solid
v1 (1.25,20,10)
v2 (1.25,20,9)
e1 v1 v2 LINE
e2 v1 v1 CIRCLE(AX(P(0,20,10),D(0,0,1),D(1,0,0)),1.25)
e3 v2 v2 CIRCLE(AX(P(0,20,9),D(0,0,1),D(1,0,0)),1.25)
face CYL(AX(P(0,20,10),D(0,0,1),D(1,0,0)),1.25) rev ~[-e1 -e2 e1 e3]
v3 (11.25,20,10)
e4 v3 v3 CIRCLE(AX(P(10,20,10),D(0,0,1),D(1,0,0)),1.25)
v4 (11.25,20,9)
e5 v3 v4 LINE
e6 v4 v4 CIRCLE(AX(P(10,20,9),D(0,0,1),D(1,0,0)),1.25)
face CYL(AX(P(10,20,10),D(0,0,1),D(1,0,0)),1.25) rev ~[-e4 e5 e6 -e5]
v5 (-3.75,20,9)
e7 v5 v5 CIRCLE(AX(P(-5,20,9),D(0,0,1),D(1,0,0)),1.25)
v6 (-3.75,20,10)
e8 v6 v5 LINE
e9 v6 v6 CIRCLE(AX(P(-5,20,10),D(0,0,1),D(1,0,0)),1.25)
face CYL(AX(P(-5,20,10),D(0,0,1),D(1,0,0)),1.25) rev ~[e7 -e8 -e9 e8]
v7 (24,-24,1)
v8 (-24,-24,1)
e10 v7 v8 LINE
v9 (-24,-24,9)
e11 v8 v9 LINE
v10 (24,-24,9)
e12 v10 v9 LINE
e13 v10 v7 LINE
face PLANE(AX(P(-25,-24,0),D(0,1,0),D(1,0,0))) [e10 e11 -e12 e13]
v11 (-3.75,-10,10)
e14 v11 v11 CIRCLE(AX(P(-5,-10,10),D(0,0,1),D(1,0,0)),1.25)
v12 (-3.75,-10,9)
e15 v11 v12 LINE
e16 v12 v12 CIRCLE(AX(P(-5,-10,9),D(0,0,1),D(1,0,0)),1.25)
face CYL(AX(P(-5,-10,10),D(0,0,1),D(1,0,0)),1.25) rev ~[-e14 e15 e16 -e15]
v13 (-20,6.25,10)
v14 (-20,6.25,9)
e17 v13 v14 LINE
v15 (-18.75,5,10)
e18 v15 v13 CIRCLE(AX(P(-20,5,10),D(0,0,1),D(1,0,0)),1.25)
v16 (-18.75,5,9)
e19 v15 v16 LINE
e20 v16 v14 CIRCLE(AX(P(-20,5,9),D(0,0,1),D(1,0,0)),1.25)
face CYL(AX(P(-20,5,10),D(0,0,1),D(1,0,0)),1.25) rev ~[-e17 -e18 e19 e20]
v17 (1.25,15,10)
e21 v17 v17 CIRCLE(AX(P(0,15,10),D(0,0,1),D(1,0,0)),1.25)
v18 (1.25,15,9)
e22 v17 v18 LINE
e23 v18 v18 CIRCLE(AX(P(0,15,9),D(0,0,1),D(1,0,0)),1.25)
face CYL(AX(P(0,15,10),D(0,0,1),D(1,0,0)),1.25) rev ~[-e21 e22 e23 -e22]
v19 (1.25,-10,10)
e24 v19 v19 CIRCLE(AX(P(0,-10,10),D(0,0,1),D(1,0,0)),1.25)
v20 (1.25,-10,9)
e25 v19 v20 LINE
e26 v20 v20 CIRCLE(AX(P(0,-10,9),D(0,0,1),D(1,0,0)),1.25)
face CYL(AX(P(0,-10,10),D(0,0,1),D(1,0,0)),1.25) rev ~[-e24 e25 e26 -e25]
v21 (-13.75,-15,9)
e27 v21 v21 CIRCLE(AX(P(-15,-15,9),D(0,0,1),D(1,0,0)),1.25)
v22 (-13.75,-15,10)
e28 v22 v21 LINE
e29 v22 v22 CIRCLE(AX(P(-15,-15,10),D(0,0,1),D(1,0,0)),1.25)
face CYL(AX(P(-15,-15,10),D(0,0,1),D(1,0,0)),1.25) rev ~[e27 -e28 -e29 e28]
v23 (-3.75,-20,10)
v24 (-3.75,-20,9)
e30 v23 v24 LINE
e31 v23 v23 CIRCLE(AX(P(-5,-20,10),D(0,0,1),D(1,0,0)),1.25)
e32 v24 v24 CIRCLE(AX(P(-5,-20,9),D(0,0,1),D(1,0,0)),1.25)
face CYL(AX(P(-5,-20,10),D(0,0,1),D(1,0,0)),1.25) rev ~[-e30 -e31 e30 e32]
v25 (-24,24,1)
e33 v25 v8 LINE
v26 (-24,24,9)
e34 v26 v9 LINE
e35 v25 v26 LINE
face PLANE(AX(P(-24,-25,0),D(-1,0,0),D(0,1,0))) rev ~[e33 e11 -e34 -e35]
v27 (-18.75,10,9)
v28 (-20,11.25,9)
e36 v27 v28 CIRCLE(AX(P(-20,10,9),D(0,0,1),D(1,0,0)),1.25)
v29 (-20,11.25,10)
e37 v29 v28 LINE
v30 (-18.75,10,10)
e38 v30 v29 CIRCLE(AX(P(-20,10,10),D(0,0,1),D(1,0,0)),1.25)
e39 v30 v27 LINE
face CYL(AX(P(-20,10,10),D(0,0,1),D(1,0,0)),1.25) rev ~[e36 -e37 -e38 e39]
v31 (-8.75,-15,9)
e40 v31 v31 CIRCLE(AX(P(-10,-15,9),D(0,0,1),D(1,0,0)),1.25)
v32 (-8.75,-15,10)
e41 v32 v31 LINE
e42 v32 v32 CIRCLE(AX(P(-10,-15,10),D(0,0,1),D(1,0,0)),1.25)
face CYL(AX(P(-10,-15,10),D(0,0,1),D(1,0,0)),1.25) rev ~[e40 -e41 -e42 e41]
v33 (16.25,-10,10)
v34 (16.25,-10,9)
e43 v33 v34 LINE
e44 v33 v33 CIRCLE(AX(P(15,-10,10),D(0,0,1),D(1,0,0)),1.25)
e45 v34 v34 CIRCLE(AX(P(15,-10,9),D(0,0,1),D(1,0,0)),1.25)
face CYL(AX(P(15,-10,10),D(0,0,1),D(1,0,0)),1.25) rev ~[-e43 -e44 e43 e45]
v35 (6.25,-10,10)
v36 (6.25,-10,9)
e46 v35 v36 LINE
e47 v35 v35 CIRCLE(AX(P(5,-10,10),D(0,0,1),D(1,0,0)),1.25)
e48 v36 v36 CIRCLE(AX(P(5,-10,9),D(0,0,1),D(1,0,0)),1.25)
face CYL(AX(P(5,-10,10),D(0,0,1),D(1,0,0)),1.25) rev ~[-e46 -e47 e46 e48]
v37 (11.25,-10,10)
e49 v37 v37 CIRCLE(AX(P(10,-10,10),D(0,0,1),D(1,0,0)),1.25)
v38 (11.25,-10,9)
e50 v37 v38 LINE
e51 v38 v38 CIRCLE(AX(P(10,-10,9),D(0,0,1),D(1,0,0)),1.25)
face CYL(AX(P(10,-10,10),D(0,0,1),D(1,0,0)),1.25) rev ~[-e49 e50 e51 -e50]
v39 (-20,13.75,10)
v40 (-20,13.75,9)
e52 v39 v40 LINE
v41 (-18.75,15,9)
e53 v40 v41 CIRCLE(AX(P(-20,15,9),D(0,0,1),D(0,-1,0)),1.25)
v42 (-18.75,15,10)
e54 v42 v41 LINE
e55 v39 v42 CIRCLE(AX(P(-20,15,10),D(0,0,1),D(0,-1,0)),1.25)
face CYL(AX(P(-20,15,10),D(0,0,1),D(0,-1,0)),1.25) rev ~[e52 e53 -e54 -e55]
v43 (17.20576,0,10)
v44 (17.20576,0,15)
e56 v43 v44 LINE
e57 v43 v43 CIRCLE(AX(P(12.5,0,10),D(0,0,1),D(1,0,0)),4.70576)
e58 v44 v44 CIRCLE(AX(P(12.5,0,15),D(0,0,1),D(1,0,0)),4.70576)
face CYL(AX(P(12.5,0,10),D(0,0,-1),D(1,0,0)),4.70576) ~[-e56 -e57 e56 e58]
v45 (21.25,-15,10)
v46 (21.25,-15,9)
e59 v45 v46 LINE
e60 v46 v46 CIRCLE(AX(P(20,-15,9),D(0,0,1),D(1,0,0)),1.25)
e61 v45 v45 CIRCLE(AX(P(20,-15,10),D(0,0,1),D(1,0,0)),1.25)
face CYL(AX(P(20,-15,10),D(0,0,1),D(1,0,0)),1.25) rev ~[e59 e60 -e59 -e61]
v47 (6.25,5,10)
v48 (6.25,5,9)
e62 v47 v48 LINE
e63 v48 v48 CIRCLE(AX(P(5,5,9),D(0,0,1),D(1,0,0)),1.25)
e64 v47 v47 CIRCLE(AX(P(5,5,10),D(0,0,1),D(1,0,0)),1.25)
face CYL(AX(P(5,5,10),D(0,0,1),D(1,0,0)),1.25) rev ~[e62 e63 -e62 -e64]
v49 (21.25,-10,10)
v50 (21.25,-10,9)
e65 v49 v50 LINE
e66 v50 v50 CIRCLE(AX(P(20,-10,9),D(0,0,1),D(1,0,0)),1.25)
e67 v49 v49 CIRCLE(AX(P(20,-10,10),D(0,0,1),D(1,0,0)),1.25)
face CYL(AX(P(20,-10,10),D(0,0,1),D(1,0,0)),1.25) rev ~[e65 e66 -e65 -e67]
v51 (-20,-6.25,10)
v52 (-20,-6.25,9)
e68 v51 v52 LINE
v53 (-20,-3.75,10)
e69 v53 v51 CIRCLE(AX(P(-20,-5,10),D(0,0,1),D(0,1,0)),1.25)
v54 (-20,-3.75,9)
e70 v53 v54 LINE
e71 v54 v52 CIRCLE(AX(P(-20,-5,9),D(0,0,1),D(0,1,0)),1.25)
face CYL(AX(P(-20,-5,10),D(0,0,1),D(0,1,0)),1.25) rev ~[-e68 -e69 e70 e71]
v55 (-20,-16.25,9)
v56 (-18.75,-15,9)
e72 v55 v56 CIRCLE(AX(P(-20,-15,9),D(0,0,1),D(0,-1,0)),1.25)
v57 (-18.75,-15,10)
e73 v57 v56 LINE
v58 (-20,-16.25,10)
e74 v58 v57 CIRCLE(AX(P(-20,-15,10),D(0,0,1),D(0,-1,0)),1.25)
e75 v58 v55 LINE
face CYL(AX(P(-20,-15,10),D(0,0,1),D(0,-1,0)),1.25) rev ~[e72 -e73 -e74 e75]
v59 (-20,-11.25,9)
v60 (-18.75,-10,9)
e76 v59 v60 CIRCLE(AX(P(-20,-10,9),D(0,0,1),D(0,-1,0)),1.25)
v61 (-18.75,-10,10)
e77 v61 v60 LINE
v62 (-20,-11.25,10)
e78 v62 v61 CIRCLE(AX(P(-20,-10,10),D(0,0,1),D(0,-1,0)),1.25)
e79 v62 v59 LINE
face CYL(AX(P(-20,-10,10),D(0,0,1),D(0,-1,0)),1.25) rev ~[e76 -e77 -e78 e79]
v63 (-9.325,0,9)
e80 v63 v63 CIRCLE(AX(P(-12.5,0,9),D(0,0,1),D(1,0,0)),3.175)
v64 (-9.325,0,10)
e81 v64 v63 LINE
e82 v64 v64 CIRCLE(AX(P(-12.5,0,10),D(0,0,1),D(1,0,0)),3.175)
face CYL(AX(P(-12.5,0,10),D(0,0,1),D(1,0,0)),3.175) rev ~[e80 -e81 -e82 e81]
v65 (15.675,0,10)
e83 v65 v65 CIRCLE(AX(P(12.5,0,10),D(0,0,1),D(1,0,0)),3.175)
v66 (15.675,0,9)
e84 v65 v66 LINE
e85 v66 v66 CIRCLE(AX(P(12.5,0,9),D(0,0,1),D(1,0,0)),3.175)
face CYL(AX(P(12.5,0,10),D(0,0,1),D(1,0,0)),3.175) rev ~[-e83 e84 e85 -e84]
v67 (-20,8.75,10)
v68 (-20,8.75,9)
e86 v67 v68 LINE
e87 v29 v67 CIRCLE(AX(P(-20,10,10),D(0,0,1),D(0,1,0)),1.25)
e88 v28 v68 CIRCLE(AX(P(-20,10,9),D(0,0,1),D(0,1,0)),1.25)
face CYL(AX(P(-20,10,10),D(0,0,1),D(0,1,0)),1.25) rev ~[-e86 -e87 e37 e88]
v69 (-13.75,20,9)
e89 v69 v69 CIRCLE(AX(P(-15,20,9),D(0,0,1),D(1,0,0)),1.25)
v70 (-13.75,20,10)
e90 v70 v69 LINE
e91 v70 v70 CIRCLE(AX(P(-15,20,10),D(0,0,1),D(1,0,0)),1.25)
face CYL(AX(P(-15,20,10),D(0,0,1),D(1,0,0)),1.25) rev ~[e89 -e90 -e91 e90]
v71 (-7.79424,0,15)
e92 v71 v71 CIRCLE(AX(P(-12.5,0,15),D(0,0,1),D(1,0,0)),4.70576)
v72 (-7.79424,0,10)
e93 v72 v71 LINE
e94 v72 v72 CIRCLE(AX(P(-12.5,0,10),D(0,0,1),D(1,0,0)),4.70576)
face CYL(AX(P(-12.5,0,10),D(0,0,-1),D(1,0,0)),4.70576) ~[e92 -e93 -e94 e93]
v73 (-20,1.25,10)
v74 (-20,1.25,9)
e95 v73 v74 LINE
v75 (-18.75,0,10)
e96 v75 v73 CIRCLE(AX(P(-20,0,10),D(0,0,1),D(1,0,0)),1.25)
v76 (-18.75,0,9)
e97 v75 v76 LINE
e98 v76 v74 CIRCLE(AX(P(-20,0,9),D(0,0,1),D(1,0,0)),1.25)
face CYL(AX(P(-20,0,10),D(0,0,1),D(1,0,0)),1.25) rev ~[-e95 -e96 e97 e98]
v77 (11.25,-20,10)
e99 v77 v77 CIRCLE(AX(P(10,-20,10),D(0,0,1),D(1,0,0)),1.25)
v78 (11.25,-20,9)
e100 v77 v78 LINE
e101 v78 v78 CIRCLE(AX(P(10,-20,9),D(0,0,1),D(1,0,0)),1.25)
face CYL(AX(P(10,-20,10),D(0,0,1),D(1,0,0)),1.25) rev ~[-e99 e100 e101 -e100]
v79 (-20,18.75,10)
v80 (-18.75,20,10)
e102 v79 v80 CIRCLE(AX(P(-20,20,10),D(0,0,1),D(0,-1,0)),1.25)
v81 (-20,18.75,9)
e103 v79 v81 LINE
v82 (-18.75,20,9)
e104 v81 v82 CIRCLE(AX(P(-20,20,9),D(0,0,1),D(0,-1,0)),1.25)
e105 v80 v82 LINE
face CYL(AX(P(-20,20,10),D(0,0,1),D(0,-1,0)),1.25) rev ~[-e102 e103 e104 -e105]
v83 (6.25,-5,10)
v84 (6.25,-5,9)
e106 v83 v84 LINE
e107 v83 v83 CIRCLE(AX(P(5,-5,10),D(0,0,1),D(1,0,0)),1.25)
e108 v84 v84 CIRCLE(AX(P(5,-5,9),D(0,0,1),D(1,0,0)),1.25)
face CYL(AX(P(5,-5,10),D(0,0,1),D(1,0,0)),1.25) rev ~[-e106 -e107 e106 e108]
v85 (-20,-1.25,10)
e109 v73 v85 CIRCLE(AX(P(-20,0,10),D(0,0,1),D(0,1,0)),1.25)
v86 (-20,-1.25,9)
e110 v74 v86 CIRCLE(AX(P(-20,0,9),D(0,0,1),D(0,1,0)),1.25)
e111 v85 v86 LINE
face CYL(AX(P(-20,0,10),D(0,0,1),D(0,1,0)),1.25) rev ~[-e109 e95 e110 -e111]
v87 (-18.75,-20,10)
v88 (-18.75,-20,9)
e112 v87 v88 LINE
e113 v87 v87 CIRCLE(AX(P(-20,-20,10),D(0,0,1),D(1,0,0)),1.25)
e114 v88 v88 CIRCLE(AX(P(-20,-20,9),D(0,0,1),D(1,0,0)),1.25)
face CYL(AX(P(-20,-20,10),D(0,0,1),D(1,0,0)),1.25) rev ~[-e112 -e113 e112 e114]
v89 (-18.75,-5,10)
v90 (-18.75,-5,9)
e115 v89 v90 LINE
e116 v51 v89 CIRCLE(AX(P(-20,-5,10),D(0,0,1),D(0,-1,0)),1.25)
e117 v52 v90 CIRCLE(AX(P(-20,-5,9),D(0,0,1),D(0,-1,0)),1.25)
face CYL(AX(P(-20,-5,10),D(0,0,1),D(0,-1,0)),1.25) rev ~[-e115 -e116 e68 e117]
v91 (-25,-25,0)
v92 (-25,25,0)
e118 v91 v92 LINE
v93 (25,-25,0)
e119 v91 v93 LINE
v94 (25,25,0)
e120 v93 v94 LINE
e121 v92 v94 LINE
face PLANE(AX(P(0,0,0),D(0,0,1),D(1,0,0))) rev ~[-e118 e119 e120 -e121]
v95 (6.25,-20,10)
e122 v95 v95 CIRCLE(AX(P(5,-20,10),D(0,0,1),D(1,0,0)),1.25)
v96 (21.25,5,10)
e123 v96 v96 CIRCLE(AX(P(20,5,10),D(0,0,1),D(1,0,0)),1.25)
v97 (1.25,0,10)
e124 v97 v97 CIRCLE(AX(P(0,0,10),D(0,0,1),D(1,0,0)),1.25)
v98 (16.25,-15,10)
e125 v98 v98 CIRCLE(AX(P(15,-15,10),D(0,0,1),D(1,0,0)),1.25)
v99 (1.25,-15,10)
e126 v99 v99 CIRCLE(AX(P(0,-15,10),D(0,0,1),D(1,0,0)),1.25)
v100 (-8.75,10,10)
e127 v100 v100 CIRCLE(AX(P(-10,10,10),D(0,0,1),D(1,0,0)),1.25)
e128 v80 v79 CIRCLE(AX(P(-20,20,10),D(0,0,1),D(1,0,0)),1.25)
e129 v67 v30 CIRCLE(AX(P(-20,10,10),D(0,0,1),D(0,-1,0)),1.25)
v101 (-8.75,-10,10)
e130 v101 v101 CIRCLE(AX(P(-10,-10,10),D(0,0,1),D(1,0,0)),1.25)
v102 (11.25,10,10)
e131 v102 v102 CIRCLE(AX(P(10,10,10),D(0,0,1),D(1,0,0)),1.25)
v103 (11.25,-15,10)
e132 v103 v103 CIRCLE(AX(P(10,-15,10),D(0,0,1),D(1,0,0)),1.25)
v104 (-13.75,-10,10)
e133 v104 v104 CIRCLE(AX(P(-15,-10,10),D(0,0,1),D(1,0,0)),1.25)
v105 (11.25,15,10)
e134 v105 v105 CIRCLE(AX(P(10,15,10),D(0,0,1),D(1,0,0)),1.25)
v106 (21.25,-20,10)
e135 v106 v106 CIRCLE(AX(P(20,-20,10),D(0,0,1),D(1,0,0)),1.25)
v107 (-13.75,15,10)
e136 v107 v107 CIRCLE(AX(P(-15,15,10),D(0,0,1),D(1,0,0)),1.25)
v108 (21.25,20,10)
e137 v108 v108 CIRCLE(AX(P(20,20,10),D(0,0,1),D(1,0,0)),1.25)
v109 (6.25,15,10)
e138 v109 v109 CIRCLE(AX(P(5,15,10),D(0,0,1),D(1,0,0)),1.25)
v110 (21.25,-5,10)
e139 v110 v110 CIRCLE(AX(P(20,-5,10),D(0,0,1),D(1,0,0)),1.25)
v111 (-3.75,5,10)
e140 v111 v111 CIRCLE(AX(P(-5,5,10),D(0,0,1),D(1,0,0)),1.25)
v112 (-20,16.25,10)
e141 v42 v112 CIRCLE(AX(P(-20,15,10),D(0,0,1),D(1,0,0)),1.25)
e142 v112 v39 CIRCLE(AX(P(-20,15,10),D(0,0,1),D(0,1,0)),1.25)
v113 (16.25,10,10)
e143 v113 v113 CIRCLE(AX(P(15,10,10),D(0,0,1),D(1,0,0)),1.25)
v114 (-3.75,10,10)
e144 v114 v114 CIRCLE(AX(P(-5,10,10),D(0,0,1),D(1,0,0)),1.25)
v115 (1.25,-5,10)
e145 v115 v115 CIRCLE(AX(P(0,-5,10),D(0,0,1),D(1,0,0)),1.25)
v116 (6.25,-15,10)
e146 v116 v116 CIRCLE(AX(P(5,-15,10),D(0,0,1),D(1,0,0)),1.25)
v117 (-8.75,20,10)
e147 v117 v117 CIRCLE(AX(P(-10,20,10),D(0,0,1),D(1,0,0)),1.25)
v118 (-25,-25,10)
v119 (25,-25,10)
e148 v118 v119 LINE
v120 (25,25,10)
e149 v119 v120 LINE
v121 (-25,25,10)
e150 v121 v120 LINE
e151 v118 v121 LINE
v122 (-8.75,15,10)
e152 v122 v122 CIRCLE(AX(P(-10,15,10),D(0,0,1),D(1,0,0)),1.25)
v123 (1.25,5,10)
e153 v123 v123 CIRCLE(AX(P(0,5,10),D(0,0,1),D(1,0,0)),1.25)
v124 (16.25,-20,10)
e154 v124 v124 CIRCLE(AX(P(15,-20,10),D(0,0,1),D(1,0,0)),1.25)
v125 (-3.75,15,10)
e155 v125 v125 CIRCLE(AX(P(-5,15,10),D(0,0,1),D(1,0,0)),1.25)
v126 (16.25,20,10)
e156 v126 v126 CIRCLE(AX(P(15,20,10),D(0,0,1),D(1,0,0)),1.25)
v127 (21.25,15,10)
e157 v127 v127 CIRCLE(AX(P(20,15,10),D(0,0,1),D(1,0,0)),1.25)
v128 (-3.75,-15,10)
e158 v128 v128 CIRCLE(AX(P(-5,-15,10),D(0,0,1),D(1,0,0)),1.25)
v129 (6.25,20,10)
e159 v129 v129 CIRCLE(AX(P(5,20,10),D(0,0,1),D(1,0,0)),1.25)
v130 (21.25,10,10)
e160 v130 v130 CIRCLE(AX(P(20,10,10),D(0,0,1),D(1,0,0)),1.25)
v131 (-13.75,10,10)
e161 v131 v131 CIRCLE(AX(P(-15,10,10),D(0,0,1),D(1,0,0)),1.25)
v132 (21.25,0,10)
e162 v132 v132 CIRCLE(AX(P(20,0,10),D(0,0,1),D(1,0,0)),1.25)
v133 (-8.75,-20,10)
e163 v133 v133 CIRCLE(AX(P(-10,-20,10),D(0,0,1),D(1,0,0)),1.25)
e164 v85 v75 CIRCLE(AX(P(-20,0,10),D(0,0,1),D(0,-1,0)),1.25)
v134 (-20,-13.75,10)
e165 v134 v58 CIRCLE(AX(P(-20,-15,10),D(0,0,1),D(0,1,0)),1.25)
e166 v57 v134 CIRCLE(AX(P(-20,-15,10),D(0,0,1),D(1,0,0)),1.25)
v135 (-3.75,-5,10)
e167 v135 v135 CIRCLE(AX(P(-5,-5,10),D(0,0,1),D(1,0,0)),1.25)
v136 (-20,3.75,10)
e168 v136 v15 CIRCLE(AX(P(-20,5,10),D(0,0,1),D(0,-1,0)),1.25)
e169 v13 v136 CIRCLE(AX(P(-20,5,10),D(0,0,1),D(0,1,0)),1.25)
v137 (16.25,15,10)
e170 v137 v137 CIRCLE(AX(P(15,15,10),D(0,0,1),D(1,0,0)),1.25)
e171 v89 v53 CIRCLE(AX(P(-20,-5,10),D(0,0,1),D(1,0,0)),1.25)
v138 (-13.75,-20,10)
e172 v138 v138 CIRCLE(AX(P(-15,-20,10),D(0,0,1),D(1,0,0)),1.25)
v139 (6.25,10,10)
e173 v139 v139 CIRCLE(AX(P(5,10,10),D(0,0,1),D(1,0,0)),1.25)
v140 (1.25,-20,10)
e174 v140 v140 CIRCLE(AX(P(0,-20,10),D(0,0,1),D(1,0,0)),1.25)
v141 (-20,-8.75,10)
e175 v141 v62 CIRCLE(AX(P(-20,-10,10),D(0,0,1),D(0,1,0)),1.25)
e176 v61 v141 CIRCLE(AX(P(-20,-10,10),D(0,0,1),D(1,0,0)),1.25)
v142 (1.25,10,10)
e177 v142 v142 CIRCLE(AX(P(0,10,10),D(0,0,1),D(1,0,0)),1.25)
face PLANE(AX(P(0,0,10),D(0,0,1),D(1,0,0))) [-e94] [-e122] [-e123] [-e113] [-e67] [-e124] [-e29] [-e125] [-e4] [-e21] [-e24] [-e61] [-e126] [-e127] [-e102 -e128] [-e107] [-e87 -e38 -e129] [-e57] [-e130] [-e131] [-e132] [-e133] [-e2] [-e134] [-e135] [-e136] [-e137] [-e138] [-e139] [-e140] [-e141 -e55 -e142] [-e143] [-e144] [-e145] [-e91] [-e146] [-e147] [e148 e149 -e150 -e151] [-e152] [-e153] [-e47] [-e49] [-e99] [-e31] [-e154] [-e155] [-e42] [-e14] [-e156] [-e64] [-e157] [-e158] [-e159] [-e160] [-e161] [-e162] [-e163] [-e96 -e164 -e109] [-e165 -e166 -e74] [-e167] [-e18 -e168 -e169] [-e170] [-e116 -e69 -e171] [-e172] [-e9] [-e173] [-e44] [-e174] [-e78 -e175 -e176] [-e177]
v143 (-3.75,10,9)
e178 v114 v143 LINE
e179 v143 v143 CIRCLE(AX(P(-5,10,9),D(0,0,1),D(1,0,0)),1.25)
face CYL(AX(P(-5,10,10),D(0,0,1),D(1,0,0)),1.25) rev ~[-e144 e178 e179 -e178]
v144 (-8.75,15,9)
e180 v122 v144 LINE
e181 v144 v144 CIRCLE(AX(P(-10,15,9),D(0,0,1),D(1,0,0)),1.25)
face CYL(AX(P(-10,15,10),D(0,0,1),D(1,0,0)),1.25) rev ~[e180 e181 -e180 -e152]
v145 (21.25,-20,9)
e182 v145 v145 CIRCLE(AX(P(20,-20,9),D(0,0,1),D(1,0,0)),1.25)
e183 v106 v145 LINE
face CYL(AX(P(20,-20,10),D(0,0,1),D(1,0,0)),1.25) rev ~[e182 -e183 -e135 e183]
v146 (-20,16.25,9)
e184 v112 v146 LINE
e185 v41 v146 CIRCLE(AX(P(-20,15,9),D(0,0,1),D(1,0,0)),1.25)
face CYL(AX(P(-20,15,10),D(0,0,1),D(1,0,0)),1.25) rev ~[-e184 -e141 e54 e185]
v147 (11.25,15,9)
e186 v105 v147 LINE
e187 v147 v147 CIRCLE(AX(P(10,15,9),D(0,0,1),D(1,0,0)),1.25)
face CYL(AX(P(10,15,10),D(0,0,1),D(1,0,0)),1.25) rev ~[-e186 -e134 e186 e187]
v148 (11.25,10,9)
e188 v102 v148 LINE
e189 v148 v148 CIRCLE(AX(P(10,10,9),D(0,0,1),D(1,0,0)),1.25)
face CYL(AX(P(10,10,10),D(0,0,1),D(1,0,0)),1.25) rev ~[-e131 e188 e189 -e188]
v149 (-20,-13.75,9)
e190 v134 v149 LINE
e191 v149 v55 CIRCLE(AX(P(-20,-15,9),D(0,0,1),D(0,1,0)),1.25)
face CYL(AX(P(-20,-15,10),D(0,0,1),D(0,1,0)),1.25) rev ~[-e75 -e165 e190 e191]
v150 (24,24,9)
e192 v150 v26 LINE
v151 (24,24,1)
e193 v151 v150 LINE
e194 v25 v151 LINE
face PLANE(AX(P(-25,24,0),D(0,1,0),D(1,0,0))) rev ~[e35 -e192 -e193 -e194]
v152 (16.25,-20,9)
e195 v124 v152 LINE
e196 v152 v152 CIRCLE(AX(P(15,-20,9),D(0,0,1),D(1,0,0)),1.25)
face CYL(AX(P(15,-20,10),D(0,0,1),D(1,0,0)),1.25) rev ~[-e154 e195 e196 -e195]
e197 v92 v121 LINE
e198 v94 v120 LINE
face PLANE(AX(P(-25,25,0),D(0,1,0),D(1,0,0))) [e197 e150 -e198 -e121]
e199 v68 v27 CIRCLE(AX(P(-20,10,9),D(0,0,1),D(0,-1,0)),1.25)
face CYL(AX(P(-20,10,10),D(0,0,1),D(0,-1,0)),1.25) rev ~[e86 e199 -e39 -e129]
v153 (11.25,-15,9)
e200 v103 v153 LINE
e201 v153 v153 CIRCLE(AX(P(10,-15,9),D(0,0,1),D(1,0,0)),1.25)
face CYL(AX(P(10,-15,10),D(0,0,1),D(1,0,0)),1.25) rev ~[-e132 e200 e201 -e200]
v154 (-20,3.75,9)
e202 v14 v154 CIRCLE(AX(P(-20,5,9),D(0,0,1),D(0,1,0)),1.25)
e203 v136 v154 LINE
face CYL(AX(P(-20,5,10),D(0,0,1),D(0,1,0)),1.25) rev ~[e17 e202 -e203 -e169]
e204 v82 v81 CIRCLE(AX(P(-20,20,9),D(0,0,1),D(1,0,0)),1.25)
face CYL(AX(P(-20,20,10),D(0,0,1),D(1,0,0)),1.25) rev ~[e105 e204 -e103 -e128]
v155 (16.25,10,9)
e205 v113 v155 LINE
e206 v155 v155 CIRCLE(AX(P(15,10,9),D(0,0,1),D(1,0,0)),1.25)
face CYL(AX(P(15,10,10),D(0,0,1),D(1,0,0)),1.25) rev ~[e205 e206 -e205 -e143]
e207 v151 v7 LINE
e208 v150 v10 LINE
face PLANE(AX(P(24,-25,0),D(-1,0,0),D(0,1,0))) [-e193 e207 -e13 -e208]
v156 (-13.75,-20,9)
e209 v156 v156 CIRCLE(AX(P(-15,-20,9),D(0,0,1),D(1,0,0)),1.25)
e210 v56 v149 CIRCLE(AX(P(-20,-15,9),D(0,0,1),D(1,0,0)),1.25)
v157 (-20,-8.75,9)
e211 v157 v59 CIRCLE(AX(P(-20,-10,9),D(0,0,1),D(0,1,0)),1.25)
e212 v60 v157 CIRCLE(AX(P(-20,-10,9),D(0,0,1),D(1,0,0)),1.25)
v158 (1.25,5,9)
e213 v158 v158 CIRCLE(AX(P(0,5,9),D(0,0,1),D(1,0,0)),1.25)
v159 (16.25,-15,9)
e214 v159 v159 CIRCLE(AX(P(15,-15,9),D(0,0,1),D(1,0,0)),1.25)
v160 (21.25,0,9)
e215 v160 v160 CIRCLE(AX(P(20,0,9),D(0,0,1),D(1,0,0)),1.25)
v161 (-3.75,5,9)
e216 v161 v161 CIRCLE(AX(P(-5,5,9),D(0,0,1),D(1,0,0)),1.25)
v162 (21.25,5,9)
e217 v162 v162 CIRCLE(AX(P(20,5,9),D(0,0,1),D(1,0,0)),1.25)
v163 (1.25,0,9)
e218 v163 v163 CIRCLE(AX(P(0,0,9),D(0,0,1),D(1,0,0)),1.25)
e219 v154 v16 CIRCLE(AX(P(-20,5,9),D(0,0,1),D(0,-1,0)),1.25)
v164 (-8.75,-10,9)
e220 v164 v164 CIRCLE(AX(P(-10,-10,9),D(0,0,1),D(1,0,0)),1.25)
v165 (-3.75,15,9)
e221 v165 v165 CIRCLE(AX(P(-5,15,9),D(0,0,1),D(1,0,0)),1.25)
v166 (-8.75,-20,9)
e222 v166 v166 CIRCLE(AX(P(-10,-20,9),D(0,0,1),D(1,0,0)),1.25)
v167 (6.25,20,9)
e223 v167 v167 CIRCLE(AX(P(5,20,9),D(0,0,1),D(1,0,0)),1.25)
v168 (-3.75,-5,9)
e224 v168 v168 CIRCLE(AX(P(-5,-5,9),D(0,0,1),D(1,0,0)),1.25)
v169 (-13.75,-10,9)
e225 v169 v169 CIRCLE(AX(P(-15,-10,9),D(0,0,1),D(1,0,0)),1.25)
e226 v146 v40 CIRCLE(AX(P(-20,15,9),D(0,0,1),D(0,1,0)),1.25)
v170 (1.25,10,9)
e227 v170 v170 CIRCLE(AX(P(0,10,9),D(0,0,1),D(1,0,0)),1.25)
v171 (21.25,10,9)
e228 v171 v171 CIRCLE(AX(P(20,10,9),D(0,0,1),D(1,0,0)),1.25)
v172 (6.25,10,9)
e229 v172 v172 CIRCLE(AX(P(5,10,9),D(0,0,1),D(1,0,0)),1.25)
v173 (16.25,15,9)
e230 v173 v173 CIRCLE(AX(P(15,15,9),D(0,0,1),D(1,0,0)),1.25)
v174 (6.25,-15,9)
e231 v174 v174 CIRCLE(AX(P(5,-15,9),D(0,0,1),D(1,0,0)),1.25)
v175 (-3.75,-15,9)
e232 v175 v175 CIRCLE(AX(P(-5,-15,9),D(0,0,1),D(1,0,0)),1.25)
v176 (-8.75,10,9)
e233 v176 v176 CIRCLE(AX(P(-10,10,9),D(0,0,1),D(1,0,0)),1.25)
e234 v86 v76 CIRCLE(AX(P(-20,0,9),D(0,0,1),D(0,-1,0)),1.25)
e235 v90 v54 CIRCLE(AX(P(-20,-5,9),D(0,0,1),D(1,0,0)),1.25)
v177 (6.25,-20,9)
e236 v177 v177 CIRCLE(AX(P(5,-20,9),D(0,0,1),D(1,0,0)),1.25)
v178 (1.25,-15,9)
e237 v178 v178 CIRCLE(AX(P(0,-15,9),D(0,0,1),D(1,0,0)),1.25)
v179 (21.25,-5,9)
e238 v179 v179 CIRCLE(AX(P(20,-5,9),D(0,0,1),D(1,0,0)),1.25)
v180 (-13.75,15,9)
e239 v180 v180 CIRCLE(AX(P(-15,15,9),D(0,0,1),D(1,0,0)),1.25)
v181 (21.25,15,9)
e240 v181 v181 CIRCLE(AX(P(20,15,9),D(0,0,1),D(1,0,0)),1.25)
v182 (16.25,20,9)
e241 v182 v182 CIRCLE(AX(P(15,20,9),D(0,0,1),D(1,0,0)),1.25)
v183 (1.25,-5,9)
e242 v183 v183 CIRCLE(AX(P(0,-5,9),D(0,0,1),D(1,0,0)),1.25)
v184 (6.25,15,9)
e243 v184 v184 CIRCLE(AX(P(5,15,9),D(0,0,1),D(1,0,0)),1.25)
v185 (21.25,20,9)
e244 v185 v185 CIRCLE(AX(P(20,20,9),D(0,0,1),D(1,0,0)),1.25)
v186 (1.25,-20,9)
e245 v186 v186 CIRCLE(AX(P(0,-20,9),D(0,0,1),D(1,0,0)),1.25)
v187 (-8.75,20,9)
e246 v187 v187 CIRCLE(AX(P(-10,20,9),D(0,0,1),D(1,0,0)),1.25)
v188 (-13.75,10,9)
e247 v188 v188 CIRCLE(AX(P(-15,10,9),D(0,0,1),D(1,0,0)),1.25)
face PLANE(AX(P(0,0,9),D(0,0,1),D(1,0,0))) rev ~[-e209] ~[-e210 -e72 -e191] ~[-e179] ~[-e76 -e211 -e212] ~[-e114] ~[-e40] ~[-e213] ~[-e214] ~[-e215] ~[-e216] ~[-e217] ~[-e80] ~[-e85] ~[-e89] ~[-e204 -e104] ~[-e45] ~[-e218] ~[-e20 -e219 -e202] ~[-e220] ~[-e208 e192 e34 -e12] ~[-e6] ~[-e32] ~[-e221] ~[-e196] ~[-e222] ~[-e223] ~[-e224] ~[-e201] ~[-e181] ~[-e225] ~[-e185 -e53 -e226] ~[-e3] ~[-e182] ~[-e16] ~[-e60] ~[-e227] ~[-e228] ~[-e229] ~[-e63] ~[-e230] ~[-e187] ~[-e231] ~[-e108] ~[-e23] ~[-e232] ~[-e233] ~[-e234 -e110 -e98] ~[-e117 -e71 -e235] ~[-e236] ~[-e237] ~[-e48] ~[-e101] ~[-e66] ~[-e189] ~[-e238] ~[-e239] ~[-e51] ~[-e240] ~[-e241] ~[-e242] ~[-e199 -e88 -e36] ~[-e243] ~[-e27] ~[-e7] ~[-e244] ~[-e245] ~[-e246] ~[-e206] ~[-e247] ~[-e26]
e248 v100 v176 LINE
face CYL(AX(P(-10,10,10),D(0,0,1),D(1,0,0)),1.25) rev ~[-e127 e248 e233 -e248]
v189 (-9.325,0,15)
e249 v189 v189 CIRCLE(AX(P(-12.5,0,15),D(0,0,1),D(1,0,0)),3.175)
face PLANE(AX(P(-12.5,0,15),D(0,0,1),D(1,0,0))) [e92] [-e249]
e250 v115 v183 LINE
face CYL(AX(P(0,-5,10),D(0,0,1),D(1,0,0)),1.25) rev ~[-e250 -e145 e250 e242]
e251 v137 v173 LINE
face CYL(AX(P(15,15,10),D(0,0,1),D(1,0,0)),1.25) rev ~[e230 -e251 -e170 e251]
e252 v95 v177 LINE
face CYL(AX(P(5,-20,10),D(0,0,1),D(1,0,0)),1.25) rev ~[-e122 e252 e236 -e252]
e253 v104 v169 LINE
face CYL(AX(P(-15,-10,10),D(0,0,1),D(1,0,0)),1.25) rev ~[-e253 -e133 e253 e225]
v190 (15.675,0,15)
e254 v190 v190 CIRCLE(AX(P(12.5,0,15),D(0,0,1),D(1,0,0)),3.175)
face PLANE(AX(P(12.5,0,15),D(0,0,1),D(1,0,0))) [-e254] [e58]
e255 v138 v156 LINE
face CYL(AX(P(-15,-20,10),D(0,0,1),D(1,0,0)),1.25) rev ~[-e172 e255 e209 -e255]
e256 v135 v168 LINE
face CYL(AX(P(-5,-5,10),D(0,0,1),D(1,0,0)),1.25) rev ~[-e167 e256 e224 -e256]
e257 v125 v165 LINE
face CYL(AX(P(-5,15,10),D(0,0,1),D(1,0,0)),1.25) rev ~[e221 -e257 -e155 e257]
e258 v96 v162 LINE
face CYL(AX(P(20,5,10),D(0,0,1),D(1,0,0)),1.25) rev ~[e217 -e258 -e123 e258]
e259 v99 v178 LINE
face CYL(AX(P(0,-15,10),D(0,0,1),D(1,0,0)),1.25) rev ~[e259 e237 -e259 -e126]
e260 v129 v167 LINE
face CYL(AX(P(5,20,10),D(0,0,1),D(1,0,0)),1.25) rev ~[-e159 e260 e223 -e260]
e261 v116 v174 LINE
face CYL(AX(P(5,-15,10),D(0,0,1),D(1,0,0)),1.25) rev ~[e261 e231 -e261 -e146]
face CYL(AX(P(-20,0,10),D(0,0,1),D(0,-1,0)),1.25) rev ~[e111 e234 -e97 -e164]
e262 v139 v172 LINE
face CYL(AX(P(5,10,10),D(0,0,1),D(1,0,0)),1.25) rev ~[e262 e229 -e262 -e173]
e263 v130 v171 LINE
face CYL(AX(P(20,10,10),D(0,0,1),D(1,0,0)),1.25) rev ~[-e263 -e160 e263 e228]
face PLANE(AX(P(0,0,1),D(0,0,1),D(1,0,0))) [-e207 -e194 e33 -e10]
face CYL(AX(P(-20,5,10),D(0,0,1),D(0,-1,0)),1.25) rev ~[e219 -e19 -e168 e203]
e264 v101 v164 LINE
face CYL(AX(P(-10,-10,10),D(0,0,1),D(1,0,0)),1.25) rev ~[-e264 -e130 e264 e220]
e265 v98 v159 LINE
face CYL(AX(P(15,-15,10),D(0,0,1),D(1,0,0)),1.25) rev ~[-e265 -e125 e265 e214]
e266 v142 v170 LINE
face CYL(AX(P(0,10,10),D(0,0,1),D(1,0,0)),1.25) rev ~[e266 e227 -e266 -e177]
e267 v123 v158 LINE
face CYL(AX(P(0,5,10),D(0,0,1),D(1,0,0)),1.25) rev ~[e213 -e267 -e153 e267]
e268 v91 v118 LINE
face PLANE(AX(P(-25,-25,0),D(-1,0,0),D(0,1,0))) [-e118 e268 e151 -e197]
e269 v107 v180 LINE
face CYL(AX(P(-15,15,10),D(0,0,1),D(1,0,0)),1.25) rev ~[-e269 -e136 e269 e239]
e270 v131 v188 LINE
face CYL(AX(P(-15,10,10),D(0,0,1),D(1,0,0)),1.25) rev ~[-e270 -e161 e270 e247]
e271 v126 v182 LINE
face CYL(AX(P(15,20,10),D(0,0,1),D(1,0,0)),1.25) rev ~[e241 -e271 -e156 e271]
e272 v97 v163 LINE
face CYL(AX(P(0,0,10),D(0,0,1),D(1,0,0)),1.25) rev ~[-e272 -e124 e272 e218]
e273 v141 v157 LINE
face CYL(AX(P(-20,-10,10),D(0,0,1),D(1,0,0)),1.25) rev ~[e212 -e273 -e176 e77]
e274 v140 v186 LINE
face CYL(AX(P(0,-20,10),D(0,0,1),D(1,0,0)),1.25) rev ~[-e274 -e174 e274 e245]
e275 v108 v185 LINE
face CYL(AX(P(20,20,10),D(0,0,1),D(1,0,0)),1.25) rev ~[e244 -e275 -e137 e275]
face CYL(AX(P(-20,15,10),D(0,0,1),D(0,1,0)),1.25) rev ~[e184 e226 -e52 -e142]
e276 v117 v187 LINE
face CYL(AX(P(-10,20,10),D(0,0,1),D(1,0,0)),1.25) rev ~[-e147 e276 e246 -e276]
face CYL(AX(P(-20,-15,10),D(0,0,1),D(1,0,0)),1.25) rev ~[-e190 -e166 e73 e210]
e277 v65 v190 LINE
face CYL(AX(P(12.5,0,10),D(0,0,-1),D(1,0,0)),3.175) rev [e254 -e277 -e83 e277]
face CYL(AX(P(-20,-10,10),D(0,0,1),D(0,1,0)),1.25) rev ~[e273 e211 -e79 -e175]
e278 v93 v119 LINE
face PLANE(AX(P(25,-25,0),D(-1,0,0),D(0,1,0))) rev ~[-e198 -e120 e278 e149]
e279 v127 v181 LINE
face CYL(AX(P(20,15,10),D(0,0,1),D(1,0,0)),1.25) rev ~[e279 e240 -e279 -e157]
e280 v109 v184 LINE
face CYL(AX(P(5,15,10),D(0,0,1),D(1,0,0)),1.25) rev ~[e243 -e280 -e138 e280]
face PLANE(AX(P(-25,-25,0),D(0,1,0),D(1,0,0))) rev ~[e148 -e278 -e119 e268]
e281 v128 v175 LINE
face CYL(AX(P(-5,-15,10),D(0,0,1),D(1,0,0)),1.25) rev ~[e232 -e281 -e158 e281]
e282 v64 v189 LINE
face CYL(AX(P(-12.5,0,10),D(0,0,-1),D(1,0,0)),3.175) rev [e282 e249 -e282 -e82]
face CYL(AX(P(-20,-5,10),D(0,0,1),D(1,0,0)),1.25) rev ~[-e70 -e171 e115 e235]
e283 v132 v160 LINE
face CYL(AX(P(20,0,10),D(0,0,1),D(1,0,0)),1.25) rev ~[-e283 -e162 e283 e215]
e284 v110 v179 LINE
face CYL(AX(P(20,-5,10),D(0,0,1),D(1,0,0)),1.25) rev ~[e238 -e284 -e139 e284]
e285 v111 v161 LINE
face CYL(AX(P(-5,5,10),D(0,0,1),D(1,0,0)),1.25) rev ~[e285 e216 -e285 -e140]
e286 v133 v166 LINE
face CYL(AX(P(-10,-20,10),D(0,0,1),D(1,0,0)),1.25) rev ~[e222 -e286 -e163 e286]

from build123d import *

# Parameters (mm, degrees)
F0_W     = 50
F0_H     = 50
F1_DEPTH = 10
F2_T     = -1
F3_R     = 3.175
F4_DEPTH = 2
F5_R     = 4.70576
F5_R_2   = 3.175
F6_DEPTH = 5
F7_R     = 1.25
F8_DEPTH = 1.5


with BuildPart() as f1:
    # F0 (on Top) → F1 (new body)
    with BuildSketch(Plane.XY):
        Rectangle(F0_W, F0_H)
    extrude(amount=F1_DEPTH)

    # F2 (hollow: no face is removed)
    offset(amount=F2_T, mode=Mode.SUBTRACT)

    # F3 (on face) → F4 (cut)
    with BuildSketch(Plane.XY.offset(10)):
        with Locations((12.5, 0)):
            Circle(F3_R)
        with Locations((-12.5, 0)):
            Circle(F3_R)
    extrude(amount=-F4_DEPTH, mode=Mode.SUBTRACT)

    # F5 (on face) → F6 (join)
    with BuildSketch(Plane.XY.offset(10)):
        with Locations((-12.5, 0)):
            Circle(F5_R)
        with Locations((-12.5, 0)):
            Circle(F5_R_2, mode=Mode.SUBTRACT)
        with Locations((12.5, 0)):
            Circle(F5_R)
        with Locations((12.5, 0)):
            Circle(F5_R_2, mode=Mode.SUBTRACT)
    extrude(amount=F6_DEPTH)

    # F7 (on face) → F8 (cut)
    with BuildSketch(Plane.XY.offset(10)):
        with BuildLine():
            ThreePointArc((-20, 18.75), (-19.1161165235, 19.1161165235), (-18.75, 20))
            ThreePointArc((-18.75, 20), (-20.8838834765, 20.8838834765), (-20, 18.75))
        make_face()
        with BuildLine():
            ThreePointArc((-18.75, -15), (-19.1161165235, -14.1161165235), (-20, -13.75))
            Line((-20, -13.75), (-20, -16.25))
            ThreePointArc((-20, -16.25), (-19.1161165235, -15.8838834765), (-18.75, -15))
        make_face()
        with BuildLine():
            Line((-20, -16.25), (-20, -13.75))
            ThreePointArc((-20, -13.75), (-21.25, -15), (-20, -16.25))
        make_face()
        with BuildLine():
            ThreePointArc((-18.75, -10), (-19.1161165235, -9.1161165235), (-20, -8.75))
            Line((-20, -8.75), (-20, -11.25))
            ThreePointArc((-20, -11.25), (-19.1161165235, -10.8838834765), (-18.75, -10))
        make_face()
        with BuildLine():
            Line((-20, -11.25), (-20, -8.75))
            ThreePointArc((-20, -8.75), (-21.25, -10), (-20, -11.25))
        make_face()
        with BuildLine():
            ThreePointArc((-18.75, -5), (-19.1161165235, -4.1161165235), (-20, -3.75))
            Line((-20, -3.75), (-20, -6.25))
            ThreePointArc((-20, -6.25), (-19.1161165235, -5.8838834765), (-18.75, -5))
        make_face()
        with BuildLine():
            Line((-20, -6.25), (-20, -3.75))
            ThreePointArc((-20, -3.75), (-21.25, -5), (-20, -6.25))
        make_face()
        with BuildLine():
            ThreePointArc((-18.75, 0), (-19.1161165235, 0.8838834765), (-20, 1.25))
            Line((-20, 1.25), (-20, -1.25))
            ThreePointArc((-20, -1.25), (-19.1161165235, -0.8838834765), (-18.75, 0))
        make_face()
        with BuildLine():
            Line((-20, -1.25), (-20, 1.25))
            ThreePointArc((-20, 1.25), (-21.25, 0), (-20, -1.25))
        make_face()
        with BuildLine():
            ThreePointArc((-18.75, 5), (-19.1161165235, 5.8838834765), (-20, 6.25))
            Line((-20, 6.25), (-20, 3.75))
            ThreePointArc((-20, 3.75), (-19.1161165235, 4.1161165235), (-18.75, 5))
        make_face()
        with BuildLine():
            Line((-20, 3.75), (-20, 6.25))
            ThreePointArc((-20, 6.25), (-21.25, 5), (-20, 3.75))
        make_face()
        with BuildLine():
            ThreePointArc((-18.75, 10), (-19.1161165235, 10.8838834765), (-20, 11.25))
            Line((-20, 11.25), (-20, 8.75))
            ThreePointArc((-20, 8.75), (-19.1161165235, 9.1161165235), (-18.75, 10))
        make_face()
        with BuildLine():
            Line((-20, 8.75), (-20, 11.25))
            ThreePointArc((-20, 11.25), (-21.25, 10), (-20, 8.75))
        make_face()
        with BuildLine():
            ThreePointArc((-18.75, 15), (-19.1161165235, 15.8838834765), (-20, 16.25))
            Line((-20, 16.25), (-20, 13.75))
            ThreePointArc((-20, 13.75), (-19.1161165235, 14.1161165235), (-18.75, 15))
        make_face()
        with BuildLine():
            Line((-20, 13.75), (-20, 16.25))
            ThreePointArc((-20, 16.25), (-21.25, 15), (-20, 13.75))
        make_face()
        with Locations((-15, 20)):
            Circle(F7_R)
        with Locations((-10, 20)):
            Circle(F7_R)
        with Locations((-5, 20)):
            Circle(F7_R)
        with Locations((0, 20)):
            Circle(F7_R)
        with Locations((5, 20)):
            Circle(F7_R)
        with Locations((10, 20)):
            Circle(F7_R)
        with Locations((15, 20)):
            Circle(F7_R)
        with Locations((20, 20)):
            Circle(F7_R)
        with Locations((-15, 15)):
            Circle(F7_R)
        with Locations((-10, 15)):
            Circle(F7_R)
        with Locations((-5, 15)):
            Circle(F7_R)
        with Locations((5, 15)):
            Circle(F7_R)
        with Locations((10, 15)):
            Circle(F7_R)
        with Locations((0, 15)):
            Circle(F7_R)
        with Locations((15, 15)):
            Circle(F7_R)
        with Locations((20, 15)):
            Circle(F7_R)
        with Locations((-15, 10)):
            Circle(F7_R)
        with Locations((-10, 10)):
            Circle(F7_R)
        with Locations((-5, 10)):
            Circle(F7_R)
        with Locations((0, 10)):
            Circle(F7_R)
        with Locations((10, 10)):
            Circle(F7_R)
        with Locations((15, 10)):
            Circle(F7_R)
        with Locations((5, 10)):
            Circle(F7_R)
        with Locations((20, 10)):
            Circle(F7_R)
        with Locations((-5, 5)):
            Circle(F7_R)
        with Locations((0, 5)):
            Circle(F7_R)
        with Locations((5, 5)):
            Circle(F7_R)
        with Locations((20, 5)):
            Circle(F7_R)
        Circle(F7_R)
        with Locations((20, 0)):
            Circle(F7_R)
        with Locations((-15, -15)):
            Circle(F7_R)
        with Locations((-10, -15)):
            Circle(F7_R)
        with Locations((-5, -15)):
            Circle(F7_R)
        with Locations((0, -15)):
            Circle(F7_R)
        with Locations((5, -15)):
            Circle(F7_R)
        with Locations((10, -15)):
            Circle(F7_R)
        with Locations((15, -15)):
            Circle(F7_R)
        with Locations((20, -15)):
            Circle(F7_R)
        with Locations((-20, -20)):
            Circle(F7_R)
        with Locations((-15, -20)):
            Circle(F7_R)
        with Locations((-10, -20)):
            Circle(F7_R)
        with Locations((-5, -20)):
            Circle(F7_R)
        with Locations((0, -20)):
            Circle(F7_R)
        with Locations((5, -20)):
            Circle(F7_R)
        with Locations((10, -20)):
            Circle(F7_R)
        with Locations((15, -20)):
            Circle(F7_R)
        with Locations((20, -20)):
            Circle(F7_R)
        with Locations((-15, -10)):
            Circle(F7_R)
        with Locations((-10, -10)):
            Circle(F7_R)
        with Locations((-5, -10)):
            Circle(F7_R)
        with Locations((0, -10)):
            Circle(F7_R)
        with Locations((5, -10)):
            Circle(F7_R)
        with Locations((10, -10)):
            Circle(F7_R)
        with Locations((15, -10)):
            Circle(F7_R)
        with Locations((20, -10)):
            Circle(F7_R)
        with Locations((-5, -5)):
            Circle(F7_R)
        with Locations((0, -5)):
            Circle(F7_R)
        with Locations((5, -5)):
            Circle(F7_R)
        with Locations((20, -5)):
            Circle(F7_R)
    extrude(amount=-F8_DEPTH, mode=Mode.SUBTRACT)


solid = f1.part
